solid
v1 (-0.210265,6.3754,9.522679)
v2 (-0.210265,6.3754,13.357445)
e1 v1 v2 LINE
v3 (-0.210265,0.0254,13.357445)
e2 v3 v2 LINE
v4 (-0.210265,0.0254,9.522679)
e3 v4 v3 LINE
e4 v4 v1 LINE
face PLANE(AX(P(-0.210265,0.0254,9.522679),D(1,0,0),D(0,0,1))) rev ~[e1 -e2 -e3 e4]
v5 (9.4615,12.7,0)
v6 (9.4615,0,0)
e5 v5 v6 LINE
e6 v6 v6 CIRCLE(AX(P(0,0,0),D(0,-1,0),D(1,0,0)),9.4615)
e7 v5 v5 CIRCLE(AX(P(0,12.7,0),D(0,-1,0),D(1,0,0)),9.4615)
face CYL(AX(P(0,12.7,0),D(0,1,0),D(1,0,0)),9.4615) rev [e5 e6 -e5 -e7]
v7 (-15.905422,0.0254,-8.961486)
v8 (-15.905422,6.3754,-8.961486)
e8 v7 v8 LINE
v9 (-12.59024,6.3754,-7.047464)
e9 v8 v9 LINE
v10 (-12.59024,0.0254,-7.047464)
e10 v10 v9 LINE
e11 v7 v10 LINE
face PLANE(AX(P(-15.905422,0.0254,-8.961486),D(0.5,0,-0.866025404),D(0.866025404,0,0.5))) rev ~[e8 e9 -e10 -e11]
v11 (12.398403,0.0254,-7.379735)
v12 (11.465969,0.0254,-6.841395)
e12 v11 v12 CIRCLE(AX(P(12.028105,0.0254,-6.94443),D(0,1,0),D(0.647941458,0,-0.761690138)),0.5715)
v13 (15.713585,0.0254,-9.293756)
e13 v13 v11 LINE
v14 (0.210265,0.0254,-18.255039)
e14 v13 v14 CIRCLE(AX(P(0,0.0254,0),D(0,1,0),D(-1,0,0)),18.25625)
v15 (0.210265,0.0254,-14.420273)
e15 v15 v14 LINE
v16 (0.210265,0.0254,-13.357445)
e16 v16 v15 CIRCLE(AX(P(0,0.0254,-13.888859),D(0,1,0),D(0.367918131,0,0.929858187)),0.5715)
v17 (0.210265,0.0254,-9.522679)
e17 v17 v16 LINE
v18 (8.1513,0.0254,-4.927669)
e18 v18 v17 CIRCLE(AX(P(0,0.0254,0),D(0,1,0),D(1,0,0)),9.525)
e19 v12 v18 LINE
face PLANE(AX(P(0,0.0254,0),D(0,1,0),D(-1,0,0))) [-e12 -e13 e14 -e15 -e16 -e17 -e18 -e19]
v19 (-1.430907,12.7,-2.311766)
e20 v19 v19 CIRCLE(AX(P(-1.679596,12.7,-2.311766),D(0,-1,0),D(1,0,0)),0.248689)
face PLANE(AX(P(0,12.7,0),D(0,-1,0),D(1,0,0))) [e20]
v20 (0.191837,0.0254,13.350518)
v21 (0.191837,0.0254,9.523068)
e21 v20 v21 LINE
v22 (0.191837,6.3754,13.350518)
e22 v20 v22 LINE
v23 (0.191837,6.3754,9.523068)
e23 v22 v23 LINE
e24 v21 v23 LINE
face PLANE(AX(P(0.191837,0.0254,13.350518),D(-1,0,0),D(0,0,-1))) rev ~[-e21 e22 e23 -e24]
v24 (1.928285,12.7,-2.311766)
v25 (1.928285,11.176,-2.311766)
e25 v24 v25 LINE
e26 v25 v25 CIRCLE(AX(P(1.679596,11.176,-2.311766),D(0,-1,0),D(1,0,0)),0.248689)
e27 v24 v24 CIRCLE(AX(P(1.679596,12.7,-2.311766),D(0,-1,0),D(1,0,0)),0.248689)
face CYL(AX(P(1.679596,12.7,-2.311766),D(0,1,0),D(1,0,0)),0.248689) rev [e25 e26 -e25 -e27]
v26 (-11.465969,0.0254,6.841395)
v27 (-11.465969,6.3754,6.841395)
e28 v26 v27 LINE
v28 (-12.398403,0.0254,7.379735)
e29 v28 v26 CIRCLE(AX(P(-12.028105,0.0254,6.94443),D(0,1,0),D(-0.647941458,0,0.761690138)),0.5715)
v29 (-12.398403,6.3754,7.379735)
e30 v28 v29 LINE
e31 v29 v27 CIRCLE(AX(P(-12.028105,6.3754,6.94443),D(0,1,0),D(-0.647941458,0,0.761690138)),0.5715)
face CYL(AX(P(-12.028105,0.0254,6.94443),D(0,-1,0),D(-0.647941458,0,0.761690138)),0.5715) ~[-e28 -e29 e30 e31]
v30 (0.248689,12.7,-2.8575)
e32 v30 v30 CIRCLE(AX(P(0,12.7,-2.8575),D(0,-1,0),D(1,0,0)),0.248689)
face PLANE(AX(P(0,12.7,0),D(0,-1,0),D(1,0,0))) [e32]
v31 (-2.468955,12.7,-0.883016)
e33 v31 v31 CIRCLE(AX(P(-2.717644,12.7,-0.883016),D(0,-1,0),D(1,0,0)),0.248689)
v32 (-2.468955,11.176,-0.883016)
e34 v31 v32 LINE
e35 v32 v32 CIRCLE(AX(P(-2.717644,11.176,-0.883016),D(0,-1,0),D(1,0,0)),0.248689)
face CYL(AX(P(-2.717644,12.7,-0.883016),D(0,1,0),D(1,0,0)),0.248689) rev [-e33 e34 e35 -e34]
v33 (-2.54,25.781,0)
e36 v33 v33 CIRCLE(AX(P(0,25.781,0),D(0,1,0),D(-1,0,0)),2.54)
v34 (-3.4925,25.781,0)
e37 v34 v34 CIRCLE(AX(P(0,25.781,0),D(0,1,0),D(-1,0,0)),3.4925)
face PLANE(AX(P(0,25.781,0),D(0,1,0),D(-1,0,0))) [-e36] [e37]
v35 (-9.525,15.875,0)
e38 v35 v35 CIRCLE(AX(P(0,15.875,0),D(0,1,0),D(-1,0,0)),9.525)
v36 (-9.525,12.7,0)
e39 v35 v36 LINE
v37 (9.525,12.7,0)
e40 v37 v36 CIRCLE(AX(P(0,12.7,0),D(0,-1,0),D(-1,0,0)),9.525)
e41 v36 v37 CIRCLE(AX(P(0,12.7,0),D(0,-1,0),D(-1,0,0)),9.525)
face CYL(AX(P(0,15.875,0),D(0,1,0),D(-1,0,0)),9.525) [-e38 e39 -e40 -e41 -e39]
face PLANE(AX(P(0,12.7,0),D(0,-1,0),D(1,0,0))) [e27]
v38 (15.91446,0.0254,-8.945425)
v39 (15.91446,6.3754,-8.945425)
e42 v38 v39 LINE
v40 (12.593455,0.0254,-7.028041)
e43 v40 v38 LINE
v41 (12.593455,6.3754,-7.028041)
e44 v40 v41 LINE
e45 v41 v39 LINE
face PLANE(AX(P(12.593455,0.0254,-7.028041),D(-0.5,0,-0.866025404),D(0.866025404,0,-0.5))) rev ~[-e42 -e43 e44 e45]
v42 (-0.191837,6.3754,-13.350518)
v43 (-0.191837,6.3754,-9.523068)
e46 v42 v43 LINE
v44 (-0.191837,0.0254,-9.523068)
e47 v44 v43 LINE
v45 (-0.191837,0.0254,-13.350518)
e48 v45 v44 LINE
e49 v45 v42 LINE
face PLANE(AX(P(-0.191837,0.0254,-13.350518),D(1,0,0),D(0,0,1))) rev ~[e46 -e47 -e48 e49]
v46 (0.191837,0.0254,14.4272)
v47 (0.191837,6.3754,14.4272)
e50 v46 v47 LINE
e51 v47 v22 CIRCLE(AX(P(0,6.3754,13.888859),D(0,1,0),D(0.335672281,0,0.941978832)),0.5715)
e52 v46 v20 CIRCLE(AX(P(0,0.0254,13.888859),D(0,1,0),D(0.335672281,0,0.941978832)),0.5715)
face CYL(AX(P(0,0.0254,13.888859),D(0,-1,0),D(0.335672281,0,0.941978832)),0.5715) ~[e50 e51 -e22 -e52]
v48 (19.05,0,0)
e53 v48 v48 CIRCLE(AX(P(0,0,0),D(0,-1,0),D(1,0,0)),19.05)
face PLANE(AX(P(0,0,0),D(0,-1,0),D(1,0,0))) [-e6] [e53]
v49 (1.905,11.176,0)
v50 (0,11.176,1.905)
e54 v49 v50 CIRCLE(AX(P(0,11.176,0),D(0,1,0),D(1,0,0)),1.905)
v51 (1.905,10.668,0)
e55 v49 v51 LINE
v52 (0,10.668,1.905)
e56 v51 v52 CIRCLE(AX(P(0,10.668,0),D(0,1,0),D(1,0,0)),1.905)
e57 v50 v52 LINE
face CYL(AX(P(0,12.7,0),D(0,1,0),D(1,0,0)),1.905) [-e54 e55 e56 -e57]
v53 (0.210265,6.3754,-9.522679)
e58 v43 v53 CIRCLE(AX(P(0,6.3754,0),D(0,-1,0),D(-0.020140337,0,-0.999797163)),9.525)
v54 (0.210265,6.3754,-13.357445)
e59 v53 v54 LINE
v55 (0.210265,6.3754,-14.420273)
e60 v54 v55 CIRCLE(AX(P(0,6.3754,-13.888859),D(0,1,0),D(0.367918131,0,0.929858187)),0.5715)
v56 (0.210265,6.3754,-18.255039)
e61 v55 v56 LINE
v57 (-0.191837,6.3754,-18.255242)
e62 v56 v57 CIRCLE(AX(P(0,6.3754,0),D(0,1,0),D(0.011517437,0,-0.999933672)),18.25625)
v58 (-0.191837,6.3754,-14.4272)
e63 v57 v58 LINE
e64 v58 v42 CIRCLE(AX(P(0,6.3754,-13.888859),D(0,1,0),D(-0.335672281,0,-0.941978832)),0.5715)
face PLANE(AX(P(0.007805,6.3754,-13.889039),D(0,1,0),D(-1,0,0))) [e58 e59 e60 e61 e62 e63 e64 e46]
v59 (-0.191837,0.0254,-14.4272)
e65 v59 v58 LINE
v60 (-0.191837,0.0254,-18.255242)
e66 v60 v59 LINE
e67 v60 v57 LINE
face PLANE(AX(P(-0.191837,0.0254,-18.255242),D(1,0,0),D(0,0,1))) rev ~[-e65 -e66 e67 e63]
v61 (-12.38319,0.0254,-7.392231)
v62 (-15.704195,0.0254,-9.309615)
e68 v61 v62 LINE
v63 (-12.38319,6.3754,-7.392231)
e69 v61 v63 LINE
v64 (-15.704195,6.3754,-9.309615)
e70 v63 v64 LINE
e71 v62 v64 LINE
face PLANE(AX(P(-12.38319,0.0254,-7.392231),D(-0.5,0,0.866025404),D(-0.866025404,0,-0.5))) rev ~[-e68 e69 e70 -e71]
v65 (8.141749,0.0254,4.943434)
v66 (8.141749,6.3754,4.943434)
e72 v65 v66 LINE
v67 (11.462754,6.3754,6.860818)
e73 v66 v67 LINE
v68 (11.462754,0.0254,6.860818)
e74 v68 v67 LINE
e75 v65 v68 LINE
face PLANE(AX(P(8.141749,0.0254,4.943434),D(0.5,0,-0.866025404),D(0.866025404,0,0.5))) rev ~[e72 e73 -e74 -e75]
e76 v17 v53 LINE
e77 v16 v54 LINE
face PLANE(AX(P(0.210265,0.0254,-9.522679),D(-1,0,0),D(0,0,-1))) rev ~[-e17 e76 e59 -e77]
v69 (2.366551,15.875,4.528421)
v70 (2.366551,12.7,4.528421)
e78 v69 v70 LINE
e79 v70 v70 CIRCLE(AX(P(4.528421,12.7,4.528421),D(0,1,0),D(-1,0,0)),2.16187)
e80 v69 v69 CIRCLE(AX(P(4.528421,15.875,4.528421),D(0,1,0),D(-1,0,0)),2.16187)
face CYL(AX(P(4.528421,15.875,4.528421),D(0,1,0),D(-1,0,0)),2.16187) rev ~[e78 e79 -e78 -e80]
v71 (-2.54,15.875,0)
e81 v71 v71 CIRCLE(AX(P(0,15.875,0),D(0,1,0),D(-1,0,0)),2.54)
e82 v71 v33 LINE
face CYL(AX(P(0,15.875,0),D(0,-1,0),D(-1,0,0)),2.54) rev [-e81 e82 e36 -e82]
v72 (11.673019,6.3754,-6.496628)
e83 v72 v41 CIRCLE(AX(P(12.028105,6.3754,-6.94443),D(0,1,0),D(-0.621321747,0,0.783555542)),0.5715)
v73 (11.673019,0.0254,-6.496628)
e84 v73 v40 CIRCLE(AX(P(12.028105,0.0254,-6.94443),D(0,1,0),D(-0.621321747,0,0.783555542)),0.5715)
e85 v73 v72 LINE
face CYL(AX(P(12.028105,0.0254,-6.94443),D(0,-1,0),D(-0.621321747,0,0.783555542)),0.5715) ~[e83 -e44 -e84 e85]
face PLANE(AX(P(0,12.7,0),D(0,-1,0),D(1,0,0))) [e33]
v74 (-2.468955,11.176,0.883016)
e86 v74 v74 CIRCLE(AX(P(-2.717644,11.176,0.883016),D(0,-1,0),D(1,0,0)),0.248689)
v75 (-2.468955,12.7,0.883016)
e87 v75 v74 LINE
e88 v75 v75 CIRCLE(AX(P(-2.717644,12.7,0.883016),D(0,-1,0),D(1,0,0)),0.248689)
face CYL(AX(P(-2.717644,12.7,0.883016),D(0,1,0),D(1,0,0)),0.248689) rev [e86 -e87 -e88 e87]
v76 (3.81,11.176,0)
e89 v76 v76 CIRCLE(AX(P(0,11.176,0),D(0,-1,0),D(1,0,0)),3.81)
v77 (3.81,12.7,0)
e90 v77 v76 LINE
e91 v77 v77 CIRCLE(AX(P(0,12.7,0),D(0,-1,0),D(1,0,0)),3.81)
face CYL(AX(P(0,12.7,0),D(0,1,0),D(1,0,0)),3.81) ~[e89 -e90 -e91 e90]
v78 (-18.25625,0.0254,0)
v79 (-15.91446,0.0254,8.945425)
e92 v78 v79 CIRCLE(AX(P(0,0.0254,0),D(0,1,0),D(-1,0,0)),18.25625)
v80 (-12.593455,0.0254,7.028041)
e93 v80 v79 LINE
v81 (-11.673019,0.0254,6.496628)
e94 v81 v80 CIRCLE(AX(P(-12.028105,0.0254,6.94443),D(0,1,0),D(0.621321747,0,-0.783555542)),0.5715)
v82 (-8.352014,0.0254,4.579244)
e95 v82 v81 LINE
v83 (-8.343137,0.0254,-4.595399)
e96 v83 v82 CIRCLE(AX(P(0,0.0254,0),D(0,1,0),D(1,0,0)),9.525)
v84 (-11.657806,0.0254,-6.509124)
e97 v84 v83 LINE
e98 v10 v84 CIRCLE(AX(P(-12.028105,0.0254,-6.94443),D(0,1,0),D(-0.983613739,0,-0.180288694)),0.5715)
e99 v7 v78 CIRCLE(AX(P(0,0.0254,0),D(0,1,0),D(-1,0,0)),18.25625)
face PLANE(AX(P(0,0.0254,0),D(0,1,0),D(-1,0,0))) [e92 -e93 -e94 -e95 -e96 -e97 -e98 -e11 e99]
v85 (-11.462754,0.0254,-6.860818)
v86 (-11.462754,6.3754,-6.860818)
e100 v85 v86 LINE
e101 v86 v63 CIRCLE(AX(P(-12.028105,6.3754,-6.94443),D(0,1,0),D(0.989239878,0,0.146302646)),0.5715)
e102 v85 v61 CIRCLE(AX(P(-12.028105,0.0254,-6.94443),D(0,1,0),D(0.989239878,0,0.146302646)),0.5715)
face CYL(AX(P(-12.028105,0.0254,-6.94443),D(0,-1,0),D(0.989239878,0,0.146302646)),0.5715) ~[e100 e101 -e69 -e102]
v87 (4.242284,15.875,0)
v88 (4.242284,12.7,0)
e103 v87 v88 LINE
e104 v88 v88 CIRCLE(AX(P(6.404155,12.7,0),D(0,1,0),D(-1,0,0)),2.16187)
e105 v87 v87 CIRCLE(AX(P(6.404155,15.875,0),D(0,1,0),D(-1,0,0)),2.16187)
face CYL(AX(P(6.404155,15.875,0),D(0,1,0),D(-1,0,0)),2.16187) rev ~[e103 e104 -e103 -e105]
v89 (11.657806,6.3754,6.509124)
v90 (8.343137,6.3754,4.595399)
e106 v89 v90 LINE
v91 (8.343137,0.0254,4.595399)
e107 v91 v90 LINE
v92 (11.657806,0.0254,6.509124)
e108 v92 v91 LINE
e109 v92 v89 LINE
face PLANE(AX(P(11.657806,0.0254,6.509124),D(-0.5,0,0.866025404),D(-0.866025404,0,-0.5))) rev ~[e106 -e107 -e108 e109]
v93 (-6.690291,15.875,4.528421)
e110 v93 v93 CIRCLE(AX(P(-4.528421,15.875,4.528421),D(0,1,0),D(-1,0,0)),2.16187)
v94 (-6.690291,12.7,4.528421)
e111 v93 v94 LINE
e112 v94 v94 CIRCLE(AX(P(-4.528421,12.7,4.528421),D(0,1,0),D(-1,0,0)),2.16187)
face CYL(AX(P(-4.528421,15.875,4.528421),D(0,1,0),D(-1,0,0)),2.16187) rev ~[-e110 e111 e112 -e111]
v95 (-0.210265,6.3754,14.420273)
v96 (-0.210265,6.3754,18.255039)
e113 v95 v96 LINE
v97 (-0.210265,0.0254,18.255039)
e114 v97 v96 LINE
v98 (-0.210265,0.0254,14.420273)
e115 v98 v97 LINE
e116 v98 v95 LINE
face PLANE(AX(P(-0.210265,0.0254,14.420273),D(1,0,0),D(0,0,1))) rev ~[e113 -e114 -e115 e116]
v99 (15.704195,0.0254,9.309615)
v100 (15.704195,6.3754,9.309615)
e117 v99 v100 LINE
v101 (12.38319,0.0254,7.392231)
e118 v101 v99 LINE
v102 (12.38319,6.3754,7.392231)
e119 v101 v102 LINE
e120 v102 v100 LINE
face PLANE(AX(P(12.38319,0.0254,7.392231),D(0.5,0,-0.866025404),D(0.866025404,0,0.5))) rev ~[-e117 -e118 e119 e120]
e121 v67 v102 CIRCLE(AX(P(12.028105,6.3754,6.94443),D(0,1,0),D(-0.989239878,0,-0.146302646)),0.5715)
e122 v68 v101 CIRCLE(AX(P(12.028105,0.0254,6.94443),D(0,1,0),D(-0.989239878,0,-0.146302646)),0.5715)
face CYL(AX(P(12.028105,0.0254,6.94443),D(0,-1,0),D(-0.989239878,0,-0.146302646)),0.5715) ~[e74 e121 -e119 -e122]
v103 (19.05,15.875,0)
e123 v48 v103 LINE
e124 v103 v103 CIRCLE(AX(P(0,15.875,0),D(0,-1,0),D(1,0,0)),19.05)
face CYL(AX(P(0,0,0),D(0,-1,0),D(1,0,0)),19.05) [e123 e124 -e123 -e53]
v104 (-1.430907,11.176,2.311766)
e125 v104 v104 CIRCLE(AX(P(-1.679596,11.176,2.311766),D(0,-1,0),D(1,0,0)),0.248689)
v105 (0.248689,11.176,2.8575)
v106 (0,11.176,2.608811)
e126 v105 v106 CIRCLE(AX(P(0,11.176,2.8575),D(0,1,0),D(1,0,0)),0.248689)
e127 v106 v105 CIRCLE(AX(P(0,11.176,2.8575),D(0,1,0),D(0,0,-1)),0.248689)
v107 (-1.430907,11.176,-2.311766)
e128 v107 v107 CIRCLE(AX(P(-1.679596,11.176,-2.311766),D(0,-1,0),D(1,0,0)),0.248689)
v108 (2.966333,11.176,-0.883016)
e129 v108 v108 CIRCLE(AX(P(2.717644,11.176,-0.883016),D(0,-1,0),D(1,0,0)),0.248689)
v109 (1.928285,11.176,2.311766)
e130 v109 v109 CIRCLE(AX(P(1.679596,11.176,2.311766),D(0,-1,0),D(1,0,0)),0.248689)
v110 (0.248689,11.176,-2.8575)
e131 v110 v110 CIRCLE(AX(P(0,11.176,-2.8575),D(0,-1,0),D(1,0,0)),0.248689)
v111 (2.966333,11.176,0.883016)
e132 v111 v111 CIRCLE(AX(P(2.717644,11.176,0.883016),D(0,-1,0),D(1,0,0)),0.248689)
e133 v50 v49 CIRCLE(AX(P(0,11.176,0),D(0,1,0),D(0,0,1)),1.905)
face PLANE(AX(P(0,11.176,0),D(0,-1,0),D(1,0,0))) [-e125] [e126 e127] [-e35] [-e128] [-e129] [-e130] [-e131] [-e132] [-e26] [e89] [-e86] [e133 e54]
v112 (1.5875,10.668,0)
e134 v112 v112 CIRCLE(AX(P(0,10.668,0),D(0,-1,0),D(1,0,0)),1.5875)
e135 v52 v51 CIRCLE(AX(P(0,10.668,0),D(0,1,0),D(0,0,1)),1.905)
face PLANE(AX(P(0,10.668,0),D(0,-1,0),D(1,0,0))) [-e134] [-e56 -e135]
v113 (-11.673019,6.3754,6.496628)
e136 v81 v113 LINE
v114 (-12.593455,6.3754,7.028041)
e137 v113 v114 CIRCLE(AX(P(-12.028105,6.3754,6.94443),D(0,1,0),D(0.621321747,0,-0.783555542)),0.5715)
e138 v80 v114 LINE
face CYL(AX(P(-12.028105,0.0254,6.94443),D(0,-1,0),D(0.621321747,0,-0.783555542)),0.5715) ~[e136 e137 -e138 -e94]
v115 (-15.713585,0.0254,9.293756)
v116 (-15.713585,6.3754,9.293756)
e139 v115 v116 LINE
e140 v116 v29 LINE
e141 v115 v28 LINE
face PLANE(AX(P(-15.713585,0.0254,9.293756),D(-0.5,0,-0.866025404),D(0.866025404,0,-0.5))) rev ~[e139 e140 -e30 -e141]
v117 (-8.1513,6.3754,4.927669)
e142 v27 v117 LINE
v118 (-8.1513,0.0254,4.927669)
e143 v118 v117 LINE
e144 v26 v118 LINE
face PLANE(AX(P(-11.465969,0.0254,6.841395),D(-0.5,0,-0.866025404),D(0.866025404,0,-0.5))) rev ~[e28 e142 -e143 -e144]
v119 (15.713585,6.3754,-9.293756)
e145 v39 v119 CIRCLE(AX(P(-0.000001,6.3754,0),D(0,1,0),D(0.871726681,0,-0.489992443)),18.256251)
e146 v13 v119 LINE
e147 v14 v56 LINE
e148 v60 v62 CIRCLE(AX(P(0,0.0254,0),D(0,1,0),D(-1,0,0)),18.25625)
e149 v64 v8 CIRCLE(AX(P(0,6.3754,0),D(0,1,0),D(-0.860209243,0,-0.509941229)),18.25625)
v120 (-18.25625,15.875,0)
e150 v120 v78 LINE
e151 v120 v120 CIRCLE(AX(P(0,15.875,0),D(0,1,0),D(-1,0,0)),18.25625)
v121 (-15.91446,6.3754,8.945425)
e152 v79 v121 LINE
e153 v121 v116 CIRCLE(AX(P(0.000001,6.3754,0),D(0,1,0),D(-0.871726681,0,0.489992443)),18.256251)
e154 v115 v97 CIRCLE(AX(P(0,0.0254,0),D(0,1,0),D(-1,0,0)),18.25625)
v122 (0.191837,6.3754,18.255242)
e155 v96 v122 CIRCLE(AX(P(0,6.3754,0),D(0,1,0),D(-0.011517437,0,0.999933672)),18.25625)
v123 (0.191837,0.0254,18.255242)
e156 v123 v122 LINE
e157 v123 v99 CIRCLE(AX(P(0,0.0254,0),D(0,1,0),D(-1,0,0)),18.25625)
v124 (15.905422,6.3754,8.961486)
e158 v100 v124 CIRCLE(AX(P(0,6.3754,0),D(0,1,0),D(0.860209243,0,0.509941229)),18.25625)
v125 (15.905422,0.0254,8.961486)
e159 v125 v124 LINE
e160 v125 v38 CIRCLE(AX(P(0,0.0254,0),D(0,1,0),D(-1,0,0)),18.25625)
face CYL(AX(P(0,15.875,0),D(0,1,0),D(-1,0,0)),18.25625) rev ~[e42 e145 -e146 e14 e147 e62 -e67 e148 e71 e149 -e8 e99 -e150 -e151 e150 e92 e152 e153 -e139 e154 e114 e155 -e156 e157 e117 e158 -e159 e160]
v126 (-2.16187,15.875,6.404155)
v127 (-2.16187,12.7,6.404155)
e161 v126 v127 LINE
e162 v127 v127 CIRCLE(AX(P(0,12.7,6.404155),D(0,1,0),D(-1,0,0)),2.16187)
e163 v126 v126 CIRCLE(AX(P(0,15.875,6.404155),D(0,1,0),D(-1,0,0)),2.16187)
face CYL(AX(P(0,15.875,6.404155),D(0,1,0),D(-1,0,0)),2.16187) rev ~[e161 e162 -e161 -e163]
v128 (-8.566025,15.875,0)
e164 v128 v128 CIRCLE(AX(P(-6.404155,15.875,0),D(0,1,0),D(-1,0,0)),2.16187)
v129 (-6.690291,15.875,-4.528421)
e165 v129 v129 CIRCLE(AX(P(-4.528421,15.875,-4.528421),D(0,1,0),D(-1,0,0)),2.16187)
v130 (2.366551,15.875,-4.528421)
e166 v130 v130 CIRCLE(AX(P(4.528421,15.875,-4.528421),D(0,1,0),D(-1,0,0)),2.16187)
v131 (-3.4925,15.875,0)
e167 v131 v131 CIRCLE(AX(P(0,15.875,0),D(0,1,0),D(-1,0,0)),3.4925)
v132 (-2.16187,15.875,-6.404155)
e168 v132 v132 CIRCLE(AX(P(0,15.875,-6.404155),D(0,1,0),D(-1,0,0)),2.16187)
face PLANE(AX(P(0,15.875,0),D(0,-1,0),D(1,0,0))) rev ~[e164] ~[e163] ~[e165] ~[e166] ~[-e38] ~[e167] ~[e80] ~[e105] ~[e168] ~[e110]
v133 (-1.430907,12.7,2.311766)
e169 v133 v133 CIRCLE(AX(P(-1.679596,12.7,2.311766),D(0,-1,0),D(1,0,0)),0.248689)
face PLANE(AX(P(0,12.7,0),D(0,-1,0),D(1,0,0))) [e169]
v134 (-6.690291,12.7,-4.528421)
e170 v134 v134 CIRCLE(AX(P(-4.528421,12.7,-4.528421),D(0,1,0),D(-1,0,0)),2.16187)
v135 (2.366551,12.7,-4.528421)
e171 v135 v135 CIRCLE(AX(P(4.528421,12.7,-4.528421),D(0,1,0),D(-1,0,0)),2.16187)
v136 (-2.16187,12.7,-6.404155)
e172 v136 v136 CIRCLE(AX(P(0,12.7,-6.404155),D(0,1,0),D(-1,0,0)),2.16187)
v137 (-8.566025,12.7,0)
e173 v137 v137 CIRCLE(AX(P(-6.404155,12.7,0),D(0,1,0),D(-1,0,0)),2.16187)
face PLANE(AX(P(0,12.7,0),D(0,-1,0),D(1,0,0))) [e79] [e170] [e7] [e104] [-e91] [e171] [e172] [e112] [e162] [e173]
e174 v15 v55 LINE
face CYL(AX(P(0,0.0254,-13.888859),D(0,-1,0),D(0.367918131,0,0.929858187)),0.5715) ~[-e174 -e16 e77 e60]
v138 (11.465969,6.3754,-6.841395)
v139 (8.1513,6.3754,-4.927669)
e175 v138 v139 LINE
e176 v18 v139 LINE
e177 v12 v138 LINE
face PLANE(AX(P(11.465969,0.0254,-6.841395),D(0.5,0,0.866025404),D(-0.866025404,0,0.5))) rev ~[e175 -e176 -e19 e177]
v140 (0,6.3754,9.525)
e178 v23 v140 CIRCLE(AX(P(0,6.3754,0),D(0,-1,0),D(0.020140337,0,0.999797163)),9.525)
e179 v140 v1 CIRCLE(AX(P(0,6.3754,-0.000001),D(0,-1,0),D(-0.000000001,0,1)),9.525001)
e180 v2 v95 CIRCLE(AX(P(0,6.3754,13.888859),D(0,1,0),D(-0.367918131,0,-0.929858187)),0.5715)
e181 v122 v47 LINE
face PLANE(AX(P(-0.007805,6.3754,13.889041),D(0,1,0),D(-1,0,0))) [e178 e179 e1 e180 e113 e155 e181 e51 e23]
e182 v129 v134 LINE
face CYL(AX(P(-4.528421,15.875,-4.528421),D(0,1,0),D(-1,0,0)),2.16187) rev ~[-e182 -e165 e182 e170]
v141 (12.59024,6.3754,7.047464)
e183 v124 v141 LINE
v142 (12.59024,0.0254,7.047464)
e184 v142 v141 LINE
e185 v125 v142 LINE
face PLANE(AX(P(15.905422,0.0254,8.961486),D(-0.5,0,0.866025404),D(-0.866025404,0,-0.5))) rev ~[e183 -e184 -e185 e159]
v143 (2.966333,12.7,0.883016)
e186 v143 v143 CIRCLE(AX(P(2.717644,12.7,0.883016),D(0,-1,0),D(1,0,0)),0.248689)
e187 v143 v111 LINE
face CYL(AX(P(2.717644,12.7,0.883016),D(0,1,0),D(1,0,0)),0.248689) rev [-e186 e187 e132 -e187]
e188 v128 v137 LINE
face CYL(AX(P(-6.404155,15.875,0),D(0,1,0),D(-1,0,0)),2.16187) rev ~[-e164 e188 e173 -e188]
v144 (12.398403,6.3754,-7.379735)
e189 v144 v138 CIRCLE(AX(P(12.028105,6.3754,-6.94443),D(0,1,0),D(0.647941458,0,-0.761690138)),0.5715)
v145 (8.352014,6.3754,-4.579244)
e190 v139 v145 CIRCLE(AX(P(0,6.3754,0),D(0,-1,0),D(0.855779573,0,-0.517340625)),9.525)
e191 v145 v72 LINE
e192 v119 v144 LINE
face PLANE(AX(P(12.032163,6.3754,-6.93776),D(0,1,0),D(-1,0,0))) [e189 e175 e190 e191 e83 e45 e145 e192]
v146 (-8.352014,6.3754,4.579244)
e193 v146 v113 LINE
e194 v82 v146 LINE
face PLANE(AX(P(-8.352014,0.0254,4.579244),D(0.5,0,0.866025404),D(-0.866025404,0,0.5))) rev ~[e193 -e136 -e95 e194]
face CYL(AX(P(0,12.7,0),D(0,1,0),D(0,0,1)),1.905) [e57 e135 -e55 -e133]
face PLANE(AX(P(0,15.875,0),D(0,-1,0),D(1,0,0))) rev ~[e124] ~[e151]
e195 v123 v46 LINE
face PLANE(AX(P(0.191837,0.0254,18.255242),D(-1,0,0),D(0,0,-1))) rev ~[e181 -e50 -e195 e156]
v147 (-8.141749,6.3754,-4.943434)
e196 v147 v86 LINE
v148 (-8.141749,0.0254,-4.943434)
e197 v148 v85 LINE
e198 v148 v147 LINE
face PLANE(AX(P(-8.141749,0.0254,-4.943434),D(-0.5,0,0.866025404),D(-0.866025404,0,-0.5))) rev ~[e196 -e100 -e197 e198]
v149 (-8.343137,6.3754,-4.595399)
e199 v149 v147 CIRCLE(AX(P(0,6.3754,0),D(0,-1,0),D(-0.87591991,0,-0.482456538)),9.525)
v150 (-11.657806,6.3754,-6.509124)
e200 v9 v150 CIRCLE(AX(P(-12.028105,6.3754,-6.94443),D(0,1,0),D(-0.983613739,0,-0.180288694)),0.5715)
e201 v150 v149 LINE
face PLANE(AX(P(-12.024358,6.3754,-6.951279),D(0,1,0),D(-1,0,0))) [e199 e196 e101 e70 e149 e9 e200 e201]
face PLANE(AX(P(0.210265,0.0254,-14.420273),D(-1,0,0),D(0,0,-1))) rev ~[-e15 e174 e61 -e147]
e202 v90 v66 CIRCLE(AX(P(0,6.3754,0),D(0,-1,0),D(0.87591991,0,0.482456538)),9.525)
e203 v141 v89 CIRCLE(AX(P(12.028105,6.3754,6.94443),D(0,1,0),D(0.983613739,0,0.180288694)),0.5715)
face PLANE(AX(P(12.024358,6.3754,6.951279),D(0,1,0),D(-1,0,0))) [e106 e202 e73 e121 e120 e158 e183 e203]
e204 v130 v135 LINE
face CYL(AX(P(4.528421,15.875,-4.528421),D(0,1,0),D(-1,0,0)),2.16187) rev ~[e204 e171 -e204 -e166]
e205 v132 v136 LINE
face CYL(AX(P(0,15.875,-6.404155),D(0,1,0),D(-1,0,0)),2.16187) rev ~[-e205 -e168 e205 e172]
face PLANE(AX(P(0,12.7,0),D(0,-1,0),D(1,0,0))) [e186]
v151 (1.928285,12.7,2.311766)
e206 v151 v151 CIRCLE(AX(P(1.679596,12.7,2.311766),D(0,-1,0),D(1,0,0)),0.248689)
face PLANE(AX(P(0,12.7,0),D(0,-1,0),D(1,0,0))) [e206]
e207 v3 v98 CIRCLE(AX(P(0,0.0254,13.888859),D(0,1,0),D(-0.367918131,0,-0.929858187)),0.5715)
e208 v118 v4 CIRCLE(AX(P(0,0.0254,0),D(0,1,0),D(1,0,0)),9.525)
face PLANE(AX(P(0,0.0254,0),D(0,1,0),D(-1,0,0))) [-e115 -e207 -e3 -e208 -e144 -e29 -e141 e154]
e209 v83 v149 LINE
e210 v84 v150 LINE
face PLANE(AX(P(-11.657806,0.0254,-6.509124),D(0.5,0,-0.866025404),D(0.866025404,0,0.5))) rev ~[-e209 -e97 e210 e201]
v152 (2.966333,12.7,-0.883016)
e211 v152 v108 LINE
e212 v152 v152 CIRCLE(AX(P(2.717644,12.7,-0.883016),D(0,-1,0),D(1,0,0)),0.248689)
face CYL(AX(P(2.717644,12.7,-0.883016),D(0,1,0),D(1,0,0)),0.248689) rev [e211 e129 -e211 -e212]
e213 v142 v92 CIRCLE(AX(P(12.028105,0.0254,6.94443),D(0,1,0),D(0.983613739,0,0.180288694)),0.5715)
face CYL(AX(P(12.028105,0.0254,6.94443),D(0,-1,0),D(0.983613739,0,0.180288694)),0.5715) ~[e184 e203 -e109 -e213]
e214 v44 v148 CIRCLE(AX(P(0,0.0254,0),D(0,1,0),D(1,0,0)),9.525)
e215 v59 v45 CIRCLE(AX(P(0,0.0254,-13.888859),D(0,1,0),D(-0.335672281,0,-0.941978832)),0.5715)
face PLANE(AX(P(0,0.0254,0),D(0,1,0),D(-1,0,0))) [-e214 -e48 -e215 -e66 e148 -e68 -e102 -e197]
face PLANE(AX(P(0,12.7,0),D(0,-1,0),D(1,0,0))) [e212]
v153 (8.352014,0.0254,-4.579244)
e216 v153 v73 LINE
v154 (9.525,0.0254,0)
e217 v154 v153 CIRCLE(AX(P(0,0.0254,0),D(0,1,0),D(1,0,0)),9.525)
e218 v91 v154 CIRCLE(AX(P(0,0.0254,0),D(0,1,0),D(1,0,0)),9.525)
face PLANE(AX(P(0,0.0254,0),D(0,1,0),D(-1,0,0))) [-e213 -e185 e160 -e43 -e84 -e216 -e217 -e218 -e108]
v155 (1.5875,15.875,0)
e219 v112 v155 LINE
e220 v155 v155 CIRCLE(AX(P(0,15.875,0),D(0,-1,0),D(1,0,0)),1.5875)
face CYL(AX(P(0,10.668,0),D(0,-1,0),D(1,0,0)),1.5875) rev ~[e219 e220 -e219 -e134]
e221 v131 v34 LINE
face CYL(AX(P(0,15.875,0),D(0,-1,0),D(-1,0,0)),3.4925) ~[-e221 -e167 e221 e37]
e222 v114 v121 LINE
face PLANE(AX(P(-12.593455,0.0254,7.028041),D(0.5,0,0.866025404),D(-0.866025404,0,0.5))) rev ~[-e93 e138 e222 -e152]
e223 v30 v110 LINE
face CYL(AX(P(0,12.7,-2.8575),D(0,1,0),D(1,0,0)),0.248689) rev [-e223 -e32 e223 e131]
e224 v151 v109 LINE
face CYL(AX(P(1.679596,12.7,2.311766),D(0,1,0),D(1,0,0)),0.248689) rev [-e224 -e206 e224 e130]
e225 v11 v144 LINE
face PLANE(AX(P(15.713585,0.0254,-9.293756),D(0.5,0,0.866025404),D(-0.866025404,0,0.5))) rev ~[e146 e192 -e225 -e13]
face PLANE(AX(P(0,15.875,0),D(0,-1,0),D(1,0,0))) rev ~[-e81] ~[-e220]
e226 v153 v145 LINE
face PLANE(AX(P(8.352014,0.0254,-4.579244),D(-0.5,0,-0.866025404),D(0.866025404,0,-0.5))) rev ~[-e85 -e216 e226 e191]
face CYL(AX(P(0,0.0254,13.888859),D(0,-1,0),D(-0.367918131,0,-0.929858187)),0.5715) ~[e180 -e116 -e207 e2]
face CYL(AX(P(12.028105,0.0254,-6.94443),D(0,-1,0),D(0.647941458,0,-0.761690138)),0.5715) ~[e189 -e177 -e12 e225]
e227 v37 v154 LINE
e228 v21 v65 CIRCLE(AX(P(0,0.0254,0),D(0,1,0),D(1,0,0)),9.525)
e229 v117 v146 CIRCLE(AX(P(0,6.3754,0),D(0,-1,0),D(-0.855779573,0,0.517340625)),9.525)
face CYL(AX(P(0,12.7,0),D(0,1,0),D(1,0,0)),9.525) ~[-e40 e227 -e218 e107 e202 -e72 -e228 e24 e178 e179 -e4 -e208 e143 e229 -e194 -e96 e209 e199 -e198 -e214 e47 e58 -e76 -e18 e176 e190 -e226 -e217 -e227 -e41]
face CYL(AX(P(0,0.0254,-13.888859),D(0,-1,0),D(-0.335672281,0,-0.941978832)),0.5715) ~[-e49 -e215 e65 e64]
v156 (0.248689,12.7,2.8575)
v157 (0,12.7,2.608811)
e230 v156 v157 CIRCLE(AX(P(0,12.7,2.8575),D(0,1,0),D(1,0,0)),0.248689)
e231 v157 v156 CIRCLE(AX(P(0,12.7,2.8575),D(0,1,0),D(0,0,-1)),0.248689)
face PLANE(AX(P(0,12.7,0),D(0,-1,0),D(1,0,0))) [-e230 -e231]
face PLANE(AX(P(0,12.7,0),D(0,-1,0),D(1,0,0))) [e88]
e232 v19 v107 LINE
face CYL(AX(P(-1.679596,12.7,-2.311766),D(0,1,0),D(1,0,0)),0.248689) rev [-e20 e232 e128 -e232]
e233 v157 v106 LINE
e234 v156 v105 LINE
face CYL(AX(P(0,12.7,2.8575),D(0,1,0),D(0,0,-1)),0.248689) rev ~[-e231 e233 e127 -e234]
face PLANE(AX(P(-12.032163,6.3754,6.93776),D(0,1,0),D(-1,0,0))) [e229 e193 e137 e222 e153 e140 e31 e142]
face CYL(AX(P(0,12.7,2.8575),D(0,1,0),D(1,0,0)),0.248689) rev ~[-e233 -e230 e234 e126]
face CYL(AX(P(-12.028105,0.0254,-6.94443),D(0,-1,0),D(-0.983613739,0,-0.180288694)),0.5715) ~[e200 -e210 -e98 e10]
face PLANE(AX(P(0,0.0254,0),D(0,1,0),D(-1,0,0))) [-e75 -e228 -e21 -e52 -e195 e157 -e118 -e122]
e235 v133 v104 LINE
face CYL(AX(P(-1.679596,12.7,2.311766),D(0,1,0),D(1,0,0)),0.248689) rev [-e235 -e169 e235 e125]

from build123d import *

# Parameters (mm, degrees)
F0_R      = 19.05
F0_R_2    = 17.4625
F1_DEPTH  = 15.875
F2_DEPTH  = 15.875
F3_R      = 9.525
F4_DEPTH  = 12.7
F5_R      = 18.25625
F5_R_2    = 9.525
F6_DEPTH  = 15.8496
F7_R      = 9.5249999873
F7_R_2    = 9.4615
F8_DEPTH  = 12.7
F9_R      = 2.1618701317
F10_DEPTH = 25.4
F11_R     = 3.81
F11_R_2   = 0.2486890232
F12_DEPTH = 1.524
F13_DEPTH = 2.032
F14_R     = 3.4925
F14_R_2   = 2.54
F15_DEPTH = 9.906
F17_DEPTH = 6.35
F18_R     = 1.5875
F19_DEPTH = 25.4


with BuildPart() as f1:
    # F0 (on Front) → F1 (new body)
    with BuildSketch(Plane.XZ):
        Circle(F0_R)
        Circle(F0_R_2, mode=Mode.SUBTRACT)
    extrude(amount=-F1_DEPTH)

    # F0 (on Front) → F2 (join)
    with BuildSketch(Plane.XZ):
        Circle(F0_R_2)
    extrude(amount=-F2_DEPTH)

    # F3 (on face) → F4 (cut)
    with BuildSketch(Plane.XZ):
        Circle(F3_R)
    extrude(amount=-F4_DEPTH, mode=Mode.SUBTRACT)

    # F5 (on face) → F6 (cut)
    with BuildSketch(Plane(origin=(0, 15.875, 0), x_dir=(-1, 0, 0), z_dir=(0, 1, 0))):
        Circle(F5_R)
        Circle(F5_R_2, mode=Mode.SUBTRACT)
    extrude(amount=-F6_DEPTH, mode=Mode.SUBTRACT)

    # F7 (on face) → F8 (join)
    with BuildSketch(Plane.XZ.offset(-12.7)):
        Circle(F7_R)
        Circle(F7_R_2, mode=Mode.SUBTRACT)
    extrude(amount=F8_DEPTH)

    # F9 (on face) → F10 (cut)
    with BuildSketch(Plane(origin=(0, 15.875, 0), x_dir=(-1, 0, 0), z_dir=(0, 1, 0))):
        with Locations((-4.5284211656, 4.5284211656)):
            Circle(F9_R)
        with Locations((-6.4041546286, 0)):
            Circle(F9_R)
        with Locations((-4.5284211656, -4.5284211656)):
            Circle(F9_R)
        with Locations((0, -6.4041546286)):
            Circle(F9_R)
        with Locations((4.5284211656, -4.5284211656)):
            Circle(F9_R)
        with Locations((6.4041546286, 0)):
            Circle(F9_R)
        with Locations((4.5284211656, 4.5284211656)):
            Circle(F9_R)
        with Locations((0, 6.4041546286)):
            Circle(F9_R)
    extrude(amount=-F10_DEPTH, mode=Mode.SUBTRACT)

    # F11 (on face) → F12 (join)
    with BuildSketch(Plane.XZ.offset(-12.7)):
        Circle(F11_R)
        with Locations((-2.7176439953, -0.8830160614)):
            Circle(F11_R_2, mode=Mode.SUBTRACT)
        with Locations((-1.6795963584, -2.3117660614)):
            Circle(F11_R_2, mode=Mode.SUBTRACT)
        with Locations((0, -2.8575)):
            Circle(F11_R_2, mode=Mode.SUBTRACT)
        with Locations((1.6795963584, -2.3117660614)):
            Circle(F11_R_2, mode=Mode.SUBTRACT)
        with Locations((2.7176439953, -0.8830160614)):
            Circle(F11_R_2, mode=Mode.SUBTRACT)
        with Locations((-2.7176439953, 0.8830160614)):
            Circle(F11_R_2, mode=Mode.SUBTRACT)
        with Locations((-1.6795963584, 2.3117660614)):
            Circle(F11_R_2, mode=Mode.SUBTRACT)
        with BuildLine():
            ThreePointArc((0, 1.905), (1.3470384182, 1.3470384182), (1.905, 0))
            ThreePointArc((1.905, 0), (-1.3470384182, -1.3470384182), (0, 1.905))
        make_face(mode=Mode.SUBTRACT)
        with Locations((1.6795963584, 2.3117660614)):
            Circle(F11_R_2, mode=Mode.SUBTRACT)
        with Locations((2.7176439953, 0.8830160614)):
            Circle(F11_R_2, mode=Mode.SUBTRACT)
        with BuildLine():
            ThreePointArc((0.2486890232, 2.8575), (0.1758496947, 2.6816503053), (0, 2.6088109768))
            ThreePointArc((0, 2.6088109768), (-0.1758496947, 3.0333496947), (0.2486890232, 2.8575))
        make_face(mode=Mode.SUBTRACT)
    extrude(amount=F12_DEPTH)

    # F13 (add): a face of the model
    f13_faces = [f1.faces().sort_by_distance(p)[0] for p in [
        (0, 12.7, 0),
    ]]
    extrude(f13_faces, amount=F13_DEPTH)

    # F14 (on face) → F15 (join)
    with BuildSketch(Plane(origin=(0, 15.875, 0), x_dir=(-1, 0, 0), z_dir=(0, 1, 0))):
        Circle(F14_R)
        Circle(F14_R_2, mode=Mode.SUBTRACT)
    extrude(amount=F15_DEPTH)

    # F16 (on face) → F17 (join)
    with BuildSketch(Plane(origin=(0, 0.0254, 0), x_dir=(-1, 0, 0), z_dir=(0, 1, 0))):
        with BuildLine():
            ThreePointArc((-0.1918367084, 9.5230679761), (-0.0959232185, 9.5245169818), (0, 9.525))
            ThreePointArc((0, 9.525), (0.1051390114, 9.5244197087), (0.210265212, 9.5226789057))
            Line((0.210265212, 9.5226789057), (0.210265212, 13.3574450496))
            ThreePointArc((0.210265212, 13.3574450496), (0.5715, 13.8888590037), (0.210265212, 14.4202729578))
            Line((0.210265212, 14.4202729578), (0.210265212, 18.2550391017))
            ThreePointArc((0.210265212, 18.2550391017), (0.0092148106, 18.2562476744), (-0.1918367084, 18.2552420619))
            Line((-0.1918367084, 18.2552420619), (-0.1918367084, 14.4271999062))
            ThreePointArc((-0.1918367084, 14.4271999062), (-0.5715, 13.8888590037), (-0.1918367084, 13.3505181011))
            Line((-0.1918367084, 13.3505181011), (-0.1918367084, 9.5230679761))
        make_face()
        with BuildLine():
            ThreePointArc((-8.3431371434, 4.5953985252), (-8.244279957, 4.770479325), (-8.1417492384, 4.943434468))
            Line((-8.1417492384, 4.943434468), (-11.4627541366, 6.8608175399))
            ThreePointArc((-11.4627541366, 6.8608175399), (-11.7423547268, 7.4393630201), (-12.383190105, 7.392231494))
            Line((-12.383190105, 7.392231494), (-15.7041950031, 9.3096145659))
            ThreePointArc((-15.7041950031, 9.3096145659), (-15.8057668585, 9.1361040973), (-15.905421732, 8.9614855682))
            Line((-15.905421732, 8.9614855682), (-12.5902399784, 7.0474644903))
            ThreePointArc((-12.5902399784, 7.0474644903), (-12.3138547268, 6.4494959836), (-11.6578061835, 6.5091235878))
            Line((-11.6578061835, 6.5091235878), (-8.3431371434, 4.5953985252))
        make_face()
        with BuildLine():
            ThreePointArc((-8.1513004351, -4.9276694509), (-8.2534962622, -4.7545162162), (-8.3520144504, -4.5792444377))
            Line((-8.3520144504, -4.5792444377), (-11.6730193486, -6.4966275097))
            ThreePointArc((-11.6730193486, -6.4966275097), (-12.3138547268, -6.4494959836), (-12.5934553169, -7.0280414638))
            Line((-12.5934553169, -7.0280414638), (-15.9144602151, -8.9454245357))
            ThreePointArc((-15.9144602151, -8.9454245357), (-15.8149816691, -9.1201435771), (-15.7135850237, -9.2937564938))
            Line((-15.7135850237, -9.2937564938), (-12.3984032701, -7.3797354159))
            ThreePointArc((-12.3984032701, -7.3797354159), (-11.7423547268, -7.4393630201), (-11.4659694751, -6.8413945134))
            Line((-11.4659694751, -6.8413945134), (-8.1513004351, -4.9276694509))
        make_face()
        with BuildLine():
            ThreePointArc((0.1918367084, -9.5230679761), (-0.0092163051, -9.5249955412), (-0.210265212, -9.5226789057))
            Line((-0.210265212, -9.5226789057), (-0.210265212, -13.3574450496))
            ThreePointArc((-0.210265212, -13.3574450496), (-0.5715, -13.8888590037), (-0.210265212, -14.4202729578))
            Line((-0.210265212, -14.4202729578), (-0.210265212, -18.2550391017))
            ThreePointArc((-0.210265212, -18.2550391017), (-0.0092148106, -18.2562476744), (0.1918367084, -18.2552420619))
            Line((0.1918367084, -18.2552420619), (0.1918367084, -14.4271999062))
            ThreePointArc((0.1918367084, -14.4271999062), (0.5715, -13.8888590037), (0.1918367084, -13.3505181011))
            Line((0.1918367084, -13.3505181011), (0.1918367084, -9.5230679761))
        make_face()
        with BuildLine():
            Line((11.6578061835, -6.5091235878), (8.3431371434, -4.5953985252))
            ThreePointArc((8.3431371434, -4.5953985252), (8.244279957, -4.770479325), (8.1417492384, -4.943434468))
            Line((8.1417492384, -4.943434468), (11.4627541366, -6.8608175399))
            ThreePointArc((11.4627541366, -6.8608175399), (11.7423547268, -7.4393630201), (12.383190105, -7.392231494))
            Line((12.383190105, -7.392231494), (15.7041950031, -9.3096145659))
            ThreePointArc((15.7041950031, -9.3096145659), (15.8057668585, -9.1361040973), (15.905421732, -8.9614855682))
            Line((15.905421732, -8.9614855682), (12.5902399784, -7.0474644903))
            ThreePointArc((12.5902399784, -7.0474644903), (12.3138547268, -6.4494959836), (11.6578061835, -6.5091235878))
        make_face()
        with BuildLine():
            Line((11.4659694751, 6.8413945134), (8.1513004351, 4.9276694509))
            ThreePointArc((8.1513004351, 4.9276694509), (8.2534962622, 4.7545162162), (8.3520144504, 4.5792444377))
            Line((8.3520144504, 4.5792444377), (11.6730193486, 6.4966275097))
            ThreePointArc((11.6730193486, 6.4966275097), (12.3138547268, 6.4494959836), (12.5934553169, 7.0280414638))
            Line((12.5934553169, 7.0280414638), (15.9144602151, 8.9454245357))
            ThreePointArc((15.9144602151, 8.9454245357), (15.8149816691, 9.1201435771), (15.7135850237, 9.2937564938))
            Line((15.7135850237, 9.2937564938), (12.3984032701, 7.3797354159))
            ThreePointArc((12.3984032701, 7.3797354159), (11.7423547268, 7.4393630201), (11.4659694751, 6.8413945134))
        make_face()
    extrude(amount=F17_DEPTH)

    # F18 (on face) → F19 (cut)
    with BuildSketch(Plane.XZ.offset(-10.668)):
        Circle(F18_R)
    extrude(amount=-F19_DEPTH, mode=Mode.SUBTRACT)


solid = f1.part
